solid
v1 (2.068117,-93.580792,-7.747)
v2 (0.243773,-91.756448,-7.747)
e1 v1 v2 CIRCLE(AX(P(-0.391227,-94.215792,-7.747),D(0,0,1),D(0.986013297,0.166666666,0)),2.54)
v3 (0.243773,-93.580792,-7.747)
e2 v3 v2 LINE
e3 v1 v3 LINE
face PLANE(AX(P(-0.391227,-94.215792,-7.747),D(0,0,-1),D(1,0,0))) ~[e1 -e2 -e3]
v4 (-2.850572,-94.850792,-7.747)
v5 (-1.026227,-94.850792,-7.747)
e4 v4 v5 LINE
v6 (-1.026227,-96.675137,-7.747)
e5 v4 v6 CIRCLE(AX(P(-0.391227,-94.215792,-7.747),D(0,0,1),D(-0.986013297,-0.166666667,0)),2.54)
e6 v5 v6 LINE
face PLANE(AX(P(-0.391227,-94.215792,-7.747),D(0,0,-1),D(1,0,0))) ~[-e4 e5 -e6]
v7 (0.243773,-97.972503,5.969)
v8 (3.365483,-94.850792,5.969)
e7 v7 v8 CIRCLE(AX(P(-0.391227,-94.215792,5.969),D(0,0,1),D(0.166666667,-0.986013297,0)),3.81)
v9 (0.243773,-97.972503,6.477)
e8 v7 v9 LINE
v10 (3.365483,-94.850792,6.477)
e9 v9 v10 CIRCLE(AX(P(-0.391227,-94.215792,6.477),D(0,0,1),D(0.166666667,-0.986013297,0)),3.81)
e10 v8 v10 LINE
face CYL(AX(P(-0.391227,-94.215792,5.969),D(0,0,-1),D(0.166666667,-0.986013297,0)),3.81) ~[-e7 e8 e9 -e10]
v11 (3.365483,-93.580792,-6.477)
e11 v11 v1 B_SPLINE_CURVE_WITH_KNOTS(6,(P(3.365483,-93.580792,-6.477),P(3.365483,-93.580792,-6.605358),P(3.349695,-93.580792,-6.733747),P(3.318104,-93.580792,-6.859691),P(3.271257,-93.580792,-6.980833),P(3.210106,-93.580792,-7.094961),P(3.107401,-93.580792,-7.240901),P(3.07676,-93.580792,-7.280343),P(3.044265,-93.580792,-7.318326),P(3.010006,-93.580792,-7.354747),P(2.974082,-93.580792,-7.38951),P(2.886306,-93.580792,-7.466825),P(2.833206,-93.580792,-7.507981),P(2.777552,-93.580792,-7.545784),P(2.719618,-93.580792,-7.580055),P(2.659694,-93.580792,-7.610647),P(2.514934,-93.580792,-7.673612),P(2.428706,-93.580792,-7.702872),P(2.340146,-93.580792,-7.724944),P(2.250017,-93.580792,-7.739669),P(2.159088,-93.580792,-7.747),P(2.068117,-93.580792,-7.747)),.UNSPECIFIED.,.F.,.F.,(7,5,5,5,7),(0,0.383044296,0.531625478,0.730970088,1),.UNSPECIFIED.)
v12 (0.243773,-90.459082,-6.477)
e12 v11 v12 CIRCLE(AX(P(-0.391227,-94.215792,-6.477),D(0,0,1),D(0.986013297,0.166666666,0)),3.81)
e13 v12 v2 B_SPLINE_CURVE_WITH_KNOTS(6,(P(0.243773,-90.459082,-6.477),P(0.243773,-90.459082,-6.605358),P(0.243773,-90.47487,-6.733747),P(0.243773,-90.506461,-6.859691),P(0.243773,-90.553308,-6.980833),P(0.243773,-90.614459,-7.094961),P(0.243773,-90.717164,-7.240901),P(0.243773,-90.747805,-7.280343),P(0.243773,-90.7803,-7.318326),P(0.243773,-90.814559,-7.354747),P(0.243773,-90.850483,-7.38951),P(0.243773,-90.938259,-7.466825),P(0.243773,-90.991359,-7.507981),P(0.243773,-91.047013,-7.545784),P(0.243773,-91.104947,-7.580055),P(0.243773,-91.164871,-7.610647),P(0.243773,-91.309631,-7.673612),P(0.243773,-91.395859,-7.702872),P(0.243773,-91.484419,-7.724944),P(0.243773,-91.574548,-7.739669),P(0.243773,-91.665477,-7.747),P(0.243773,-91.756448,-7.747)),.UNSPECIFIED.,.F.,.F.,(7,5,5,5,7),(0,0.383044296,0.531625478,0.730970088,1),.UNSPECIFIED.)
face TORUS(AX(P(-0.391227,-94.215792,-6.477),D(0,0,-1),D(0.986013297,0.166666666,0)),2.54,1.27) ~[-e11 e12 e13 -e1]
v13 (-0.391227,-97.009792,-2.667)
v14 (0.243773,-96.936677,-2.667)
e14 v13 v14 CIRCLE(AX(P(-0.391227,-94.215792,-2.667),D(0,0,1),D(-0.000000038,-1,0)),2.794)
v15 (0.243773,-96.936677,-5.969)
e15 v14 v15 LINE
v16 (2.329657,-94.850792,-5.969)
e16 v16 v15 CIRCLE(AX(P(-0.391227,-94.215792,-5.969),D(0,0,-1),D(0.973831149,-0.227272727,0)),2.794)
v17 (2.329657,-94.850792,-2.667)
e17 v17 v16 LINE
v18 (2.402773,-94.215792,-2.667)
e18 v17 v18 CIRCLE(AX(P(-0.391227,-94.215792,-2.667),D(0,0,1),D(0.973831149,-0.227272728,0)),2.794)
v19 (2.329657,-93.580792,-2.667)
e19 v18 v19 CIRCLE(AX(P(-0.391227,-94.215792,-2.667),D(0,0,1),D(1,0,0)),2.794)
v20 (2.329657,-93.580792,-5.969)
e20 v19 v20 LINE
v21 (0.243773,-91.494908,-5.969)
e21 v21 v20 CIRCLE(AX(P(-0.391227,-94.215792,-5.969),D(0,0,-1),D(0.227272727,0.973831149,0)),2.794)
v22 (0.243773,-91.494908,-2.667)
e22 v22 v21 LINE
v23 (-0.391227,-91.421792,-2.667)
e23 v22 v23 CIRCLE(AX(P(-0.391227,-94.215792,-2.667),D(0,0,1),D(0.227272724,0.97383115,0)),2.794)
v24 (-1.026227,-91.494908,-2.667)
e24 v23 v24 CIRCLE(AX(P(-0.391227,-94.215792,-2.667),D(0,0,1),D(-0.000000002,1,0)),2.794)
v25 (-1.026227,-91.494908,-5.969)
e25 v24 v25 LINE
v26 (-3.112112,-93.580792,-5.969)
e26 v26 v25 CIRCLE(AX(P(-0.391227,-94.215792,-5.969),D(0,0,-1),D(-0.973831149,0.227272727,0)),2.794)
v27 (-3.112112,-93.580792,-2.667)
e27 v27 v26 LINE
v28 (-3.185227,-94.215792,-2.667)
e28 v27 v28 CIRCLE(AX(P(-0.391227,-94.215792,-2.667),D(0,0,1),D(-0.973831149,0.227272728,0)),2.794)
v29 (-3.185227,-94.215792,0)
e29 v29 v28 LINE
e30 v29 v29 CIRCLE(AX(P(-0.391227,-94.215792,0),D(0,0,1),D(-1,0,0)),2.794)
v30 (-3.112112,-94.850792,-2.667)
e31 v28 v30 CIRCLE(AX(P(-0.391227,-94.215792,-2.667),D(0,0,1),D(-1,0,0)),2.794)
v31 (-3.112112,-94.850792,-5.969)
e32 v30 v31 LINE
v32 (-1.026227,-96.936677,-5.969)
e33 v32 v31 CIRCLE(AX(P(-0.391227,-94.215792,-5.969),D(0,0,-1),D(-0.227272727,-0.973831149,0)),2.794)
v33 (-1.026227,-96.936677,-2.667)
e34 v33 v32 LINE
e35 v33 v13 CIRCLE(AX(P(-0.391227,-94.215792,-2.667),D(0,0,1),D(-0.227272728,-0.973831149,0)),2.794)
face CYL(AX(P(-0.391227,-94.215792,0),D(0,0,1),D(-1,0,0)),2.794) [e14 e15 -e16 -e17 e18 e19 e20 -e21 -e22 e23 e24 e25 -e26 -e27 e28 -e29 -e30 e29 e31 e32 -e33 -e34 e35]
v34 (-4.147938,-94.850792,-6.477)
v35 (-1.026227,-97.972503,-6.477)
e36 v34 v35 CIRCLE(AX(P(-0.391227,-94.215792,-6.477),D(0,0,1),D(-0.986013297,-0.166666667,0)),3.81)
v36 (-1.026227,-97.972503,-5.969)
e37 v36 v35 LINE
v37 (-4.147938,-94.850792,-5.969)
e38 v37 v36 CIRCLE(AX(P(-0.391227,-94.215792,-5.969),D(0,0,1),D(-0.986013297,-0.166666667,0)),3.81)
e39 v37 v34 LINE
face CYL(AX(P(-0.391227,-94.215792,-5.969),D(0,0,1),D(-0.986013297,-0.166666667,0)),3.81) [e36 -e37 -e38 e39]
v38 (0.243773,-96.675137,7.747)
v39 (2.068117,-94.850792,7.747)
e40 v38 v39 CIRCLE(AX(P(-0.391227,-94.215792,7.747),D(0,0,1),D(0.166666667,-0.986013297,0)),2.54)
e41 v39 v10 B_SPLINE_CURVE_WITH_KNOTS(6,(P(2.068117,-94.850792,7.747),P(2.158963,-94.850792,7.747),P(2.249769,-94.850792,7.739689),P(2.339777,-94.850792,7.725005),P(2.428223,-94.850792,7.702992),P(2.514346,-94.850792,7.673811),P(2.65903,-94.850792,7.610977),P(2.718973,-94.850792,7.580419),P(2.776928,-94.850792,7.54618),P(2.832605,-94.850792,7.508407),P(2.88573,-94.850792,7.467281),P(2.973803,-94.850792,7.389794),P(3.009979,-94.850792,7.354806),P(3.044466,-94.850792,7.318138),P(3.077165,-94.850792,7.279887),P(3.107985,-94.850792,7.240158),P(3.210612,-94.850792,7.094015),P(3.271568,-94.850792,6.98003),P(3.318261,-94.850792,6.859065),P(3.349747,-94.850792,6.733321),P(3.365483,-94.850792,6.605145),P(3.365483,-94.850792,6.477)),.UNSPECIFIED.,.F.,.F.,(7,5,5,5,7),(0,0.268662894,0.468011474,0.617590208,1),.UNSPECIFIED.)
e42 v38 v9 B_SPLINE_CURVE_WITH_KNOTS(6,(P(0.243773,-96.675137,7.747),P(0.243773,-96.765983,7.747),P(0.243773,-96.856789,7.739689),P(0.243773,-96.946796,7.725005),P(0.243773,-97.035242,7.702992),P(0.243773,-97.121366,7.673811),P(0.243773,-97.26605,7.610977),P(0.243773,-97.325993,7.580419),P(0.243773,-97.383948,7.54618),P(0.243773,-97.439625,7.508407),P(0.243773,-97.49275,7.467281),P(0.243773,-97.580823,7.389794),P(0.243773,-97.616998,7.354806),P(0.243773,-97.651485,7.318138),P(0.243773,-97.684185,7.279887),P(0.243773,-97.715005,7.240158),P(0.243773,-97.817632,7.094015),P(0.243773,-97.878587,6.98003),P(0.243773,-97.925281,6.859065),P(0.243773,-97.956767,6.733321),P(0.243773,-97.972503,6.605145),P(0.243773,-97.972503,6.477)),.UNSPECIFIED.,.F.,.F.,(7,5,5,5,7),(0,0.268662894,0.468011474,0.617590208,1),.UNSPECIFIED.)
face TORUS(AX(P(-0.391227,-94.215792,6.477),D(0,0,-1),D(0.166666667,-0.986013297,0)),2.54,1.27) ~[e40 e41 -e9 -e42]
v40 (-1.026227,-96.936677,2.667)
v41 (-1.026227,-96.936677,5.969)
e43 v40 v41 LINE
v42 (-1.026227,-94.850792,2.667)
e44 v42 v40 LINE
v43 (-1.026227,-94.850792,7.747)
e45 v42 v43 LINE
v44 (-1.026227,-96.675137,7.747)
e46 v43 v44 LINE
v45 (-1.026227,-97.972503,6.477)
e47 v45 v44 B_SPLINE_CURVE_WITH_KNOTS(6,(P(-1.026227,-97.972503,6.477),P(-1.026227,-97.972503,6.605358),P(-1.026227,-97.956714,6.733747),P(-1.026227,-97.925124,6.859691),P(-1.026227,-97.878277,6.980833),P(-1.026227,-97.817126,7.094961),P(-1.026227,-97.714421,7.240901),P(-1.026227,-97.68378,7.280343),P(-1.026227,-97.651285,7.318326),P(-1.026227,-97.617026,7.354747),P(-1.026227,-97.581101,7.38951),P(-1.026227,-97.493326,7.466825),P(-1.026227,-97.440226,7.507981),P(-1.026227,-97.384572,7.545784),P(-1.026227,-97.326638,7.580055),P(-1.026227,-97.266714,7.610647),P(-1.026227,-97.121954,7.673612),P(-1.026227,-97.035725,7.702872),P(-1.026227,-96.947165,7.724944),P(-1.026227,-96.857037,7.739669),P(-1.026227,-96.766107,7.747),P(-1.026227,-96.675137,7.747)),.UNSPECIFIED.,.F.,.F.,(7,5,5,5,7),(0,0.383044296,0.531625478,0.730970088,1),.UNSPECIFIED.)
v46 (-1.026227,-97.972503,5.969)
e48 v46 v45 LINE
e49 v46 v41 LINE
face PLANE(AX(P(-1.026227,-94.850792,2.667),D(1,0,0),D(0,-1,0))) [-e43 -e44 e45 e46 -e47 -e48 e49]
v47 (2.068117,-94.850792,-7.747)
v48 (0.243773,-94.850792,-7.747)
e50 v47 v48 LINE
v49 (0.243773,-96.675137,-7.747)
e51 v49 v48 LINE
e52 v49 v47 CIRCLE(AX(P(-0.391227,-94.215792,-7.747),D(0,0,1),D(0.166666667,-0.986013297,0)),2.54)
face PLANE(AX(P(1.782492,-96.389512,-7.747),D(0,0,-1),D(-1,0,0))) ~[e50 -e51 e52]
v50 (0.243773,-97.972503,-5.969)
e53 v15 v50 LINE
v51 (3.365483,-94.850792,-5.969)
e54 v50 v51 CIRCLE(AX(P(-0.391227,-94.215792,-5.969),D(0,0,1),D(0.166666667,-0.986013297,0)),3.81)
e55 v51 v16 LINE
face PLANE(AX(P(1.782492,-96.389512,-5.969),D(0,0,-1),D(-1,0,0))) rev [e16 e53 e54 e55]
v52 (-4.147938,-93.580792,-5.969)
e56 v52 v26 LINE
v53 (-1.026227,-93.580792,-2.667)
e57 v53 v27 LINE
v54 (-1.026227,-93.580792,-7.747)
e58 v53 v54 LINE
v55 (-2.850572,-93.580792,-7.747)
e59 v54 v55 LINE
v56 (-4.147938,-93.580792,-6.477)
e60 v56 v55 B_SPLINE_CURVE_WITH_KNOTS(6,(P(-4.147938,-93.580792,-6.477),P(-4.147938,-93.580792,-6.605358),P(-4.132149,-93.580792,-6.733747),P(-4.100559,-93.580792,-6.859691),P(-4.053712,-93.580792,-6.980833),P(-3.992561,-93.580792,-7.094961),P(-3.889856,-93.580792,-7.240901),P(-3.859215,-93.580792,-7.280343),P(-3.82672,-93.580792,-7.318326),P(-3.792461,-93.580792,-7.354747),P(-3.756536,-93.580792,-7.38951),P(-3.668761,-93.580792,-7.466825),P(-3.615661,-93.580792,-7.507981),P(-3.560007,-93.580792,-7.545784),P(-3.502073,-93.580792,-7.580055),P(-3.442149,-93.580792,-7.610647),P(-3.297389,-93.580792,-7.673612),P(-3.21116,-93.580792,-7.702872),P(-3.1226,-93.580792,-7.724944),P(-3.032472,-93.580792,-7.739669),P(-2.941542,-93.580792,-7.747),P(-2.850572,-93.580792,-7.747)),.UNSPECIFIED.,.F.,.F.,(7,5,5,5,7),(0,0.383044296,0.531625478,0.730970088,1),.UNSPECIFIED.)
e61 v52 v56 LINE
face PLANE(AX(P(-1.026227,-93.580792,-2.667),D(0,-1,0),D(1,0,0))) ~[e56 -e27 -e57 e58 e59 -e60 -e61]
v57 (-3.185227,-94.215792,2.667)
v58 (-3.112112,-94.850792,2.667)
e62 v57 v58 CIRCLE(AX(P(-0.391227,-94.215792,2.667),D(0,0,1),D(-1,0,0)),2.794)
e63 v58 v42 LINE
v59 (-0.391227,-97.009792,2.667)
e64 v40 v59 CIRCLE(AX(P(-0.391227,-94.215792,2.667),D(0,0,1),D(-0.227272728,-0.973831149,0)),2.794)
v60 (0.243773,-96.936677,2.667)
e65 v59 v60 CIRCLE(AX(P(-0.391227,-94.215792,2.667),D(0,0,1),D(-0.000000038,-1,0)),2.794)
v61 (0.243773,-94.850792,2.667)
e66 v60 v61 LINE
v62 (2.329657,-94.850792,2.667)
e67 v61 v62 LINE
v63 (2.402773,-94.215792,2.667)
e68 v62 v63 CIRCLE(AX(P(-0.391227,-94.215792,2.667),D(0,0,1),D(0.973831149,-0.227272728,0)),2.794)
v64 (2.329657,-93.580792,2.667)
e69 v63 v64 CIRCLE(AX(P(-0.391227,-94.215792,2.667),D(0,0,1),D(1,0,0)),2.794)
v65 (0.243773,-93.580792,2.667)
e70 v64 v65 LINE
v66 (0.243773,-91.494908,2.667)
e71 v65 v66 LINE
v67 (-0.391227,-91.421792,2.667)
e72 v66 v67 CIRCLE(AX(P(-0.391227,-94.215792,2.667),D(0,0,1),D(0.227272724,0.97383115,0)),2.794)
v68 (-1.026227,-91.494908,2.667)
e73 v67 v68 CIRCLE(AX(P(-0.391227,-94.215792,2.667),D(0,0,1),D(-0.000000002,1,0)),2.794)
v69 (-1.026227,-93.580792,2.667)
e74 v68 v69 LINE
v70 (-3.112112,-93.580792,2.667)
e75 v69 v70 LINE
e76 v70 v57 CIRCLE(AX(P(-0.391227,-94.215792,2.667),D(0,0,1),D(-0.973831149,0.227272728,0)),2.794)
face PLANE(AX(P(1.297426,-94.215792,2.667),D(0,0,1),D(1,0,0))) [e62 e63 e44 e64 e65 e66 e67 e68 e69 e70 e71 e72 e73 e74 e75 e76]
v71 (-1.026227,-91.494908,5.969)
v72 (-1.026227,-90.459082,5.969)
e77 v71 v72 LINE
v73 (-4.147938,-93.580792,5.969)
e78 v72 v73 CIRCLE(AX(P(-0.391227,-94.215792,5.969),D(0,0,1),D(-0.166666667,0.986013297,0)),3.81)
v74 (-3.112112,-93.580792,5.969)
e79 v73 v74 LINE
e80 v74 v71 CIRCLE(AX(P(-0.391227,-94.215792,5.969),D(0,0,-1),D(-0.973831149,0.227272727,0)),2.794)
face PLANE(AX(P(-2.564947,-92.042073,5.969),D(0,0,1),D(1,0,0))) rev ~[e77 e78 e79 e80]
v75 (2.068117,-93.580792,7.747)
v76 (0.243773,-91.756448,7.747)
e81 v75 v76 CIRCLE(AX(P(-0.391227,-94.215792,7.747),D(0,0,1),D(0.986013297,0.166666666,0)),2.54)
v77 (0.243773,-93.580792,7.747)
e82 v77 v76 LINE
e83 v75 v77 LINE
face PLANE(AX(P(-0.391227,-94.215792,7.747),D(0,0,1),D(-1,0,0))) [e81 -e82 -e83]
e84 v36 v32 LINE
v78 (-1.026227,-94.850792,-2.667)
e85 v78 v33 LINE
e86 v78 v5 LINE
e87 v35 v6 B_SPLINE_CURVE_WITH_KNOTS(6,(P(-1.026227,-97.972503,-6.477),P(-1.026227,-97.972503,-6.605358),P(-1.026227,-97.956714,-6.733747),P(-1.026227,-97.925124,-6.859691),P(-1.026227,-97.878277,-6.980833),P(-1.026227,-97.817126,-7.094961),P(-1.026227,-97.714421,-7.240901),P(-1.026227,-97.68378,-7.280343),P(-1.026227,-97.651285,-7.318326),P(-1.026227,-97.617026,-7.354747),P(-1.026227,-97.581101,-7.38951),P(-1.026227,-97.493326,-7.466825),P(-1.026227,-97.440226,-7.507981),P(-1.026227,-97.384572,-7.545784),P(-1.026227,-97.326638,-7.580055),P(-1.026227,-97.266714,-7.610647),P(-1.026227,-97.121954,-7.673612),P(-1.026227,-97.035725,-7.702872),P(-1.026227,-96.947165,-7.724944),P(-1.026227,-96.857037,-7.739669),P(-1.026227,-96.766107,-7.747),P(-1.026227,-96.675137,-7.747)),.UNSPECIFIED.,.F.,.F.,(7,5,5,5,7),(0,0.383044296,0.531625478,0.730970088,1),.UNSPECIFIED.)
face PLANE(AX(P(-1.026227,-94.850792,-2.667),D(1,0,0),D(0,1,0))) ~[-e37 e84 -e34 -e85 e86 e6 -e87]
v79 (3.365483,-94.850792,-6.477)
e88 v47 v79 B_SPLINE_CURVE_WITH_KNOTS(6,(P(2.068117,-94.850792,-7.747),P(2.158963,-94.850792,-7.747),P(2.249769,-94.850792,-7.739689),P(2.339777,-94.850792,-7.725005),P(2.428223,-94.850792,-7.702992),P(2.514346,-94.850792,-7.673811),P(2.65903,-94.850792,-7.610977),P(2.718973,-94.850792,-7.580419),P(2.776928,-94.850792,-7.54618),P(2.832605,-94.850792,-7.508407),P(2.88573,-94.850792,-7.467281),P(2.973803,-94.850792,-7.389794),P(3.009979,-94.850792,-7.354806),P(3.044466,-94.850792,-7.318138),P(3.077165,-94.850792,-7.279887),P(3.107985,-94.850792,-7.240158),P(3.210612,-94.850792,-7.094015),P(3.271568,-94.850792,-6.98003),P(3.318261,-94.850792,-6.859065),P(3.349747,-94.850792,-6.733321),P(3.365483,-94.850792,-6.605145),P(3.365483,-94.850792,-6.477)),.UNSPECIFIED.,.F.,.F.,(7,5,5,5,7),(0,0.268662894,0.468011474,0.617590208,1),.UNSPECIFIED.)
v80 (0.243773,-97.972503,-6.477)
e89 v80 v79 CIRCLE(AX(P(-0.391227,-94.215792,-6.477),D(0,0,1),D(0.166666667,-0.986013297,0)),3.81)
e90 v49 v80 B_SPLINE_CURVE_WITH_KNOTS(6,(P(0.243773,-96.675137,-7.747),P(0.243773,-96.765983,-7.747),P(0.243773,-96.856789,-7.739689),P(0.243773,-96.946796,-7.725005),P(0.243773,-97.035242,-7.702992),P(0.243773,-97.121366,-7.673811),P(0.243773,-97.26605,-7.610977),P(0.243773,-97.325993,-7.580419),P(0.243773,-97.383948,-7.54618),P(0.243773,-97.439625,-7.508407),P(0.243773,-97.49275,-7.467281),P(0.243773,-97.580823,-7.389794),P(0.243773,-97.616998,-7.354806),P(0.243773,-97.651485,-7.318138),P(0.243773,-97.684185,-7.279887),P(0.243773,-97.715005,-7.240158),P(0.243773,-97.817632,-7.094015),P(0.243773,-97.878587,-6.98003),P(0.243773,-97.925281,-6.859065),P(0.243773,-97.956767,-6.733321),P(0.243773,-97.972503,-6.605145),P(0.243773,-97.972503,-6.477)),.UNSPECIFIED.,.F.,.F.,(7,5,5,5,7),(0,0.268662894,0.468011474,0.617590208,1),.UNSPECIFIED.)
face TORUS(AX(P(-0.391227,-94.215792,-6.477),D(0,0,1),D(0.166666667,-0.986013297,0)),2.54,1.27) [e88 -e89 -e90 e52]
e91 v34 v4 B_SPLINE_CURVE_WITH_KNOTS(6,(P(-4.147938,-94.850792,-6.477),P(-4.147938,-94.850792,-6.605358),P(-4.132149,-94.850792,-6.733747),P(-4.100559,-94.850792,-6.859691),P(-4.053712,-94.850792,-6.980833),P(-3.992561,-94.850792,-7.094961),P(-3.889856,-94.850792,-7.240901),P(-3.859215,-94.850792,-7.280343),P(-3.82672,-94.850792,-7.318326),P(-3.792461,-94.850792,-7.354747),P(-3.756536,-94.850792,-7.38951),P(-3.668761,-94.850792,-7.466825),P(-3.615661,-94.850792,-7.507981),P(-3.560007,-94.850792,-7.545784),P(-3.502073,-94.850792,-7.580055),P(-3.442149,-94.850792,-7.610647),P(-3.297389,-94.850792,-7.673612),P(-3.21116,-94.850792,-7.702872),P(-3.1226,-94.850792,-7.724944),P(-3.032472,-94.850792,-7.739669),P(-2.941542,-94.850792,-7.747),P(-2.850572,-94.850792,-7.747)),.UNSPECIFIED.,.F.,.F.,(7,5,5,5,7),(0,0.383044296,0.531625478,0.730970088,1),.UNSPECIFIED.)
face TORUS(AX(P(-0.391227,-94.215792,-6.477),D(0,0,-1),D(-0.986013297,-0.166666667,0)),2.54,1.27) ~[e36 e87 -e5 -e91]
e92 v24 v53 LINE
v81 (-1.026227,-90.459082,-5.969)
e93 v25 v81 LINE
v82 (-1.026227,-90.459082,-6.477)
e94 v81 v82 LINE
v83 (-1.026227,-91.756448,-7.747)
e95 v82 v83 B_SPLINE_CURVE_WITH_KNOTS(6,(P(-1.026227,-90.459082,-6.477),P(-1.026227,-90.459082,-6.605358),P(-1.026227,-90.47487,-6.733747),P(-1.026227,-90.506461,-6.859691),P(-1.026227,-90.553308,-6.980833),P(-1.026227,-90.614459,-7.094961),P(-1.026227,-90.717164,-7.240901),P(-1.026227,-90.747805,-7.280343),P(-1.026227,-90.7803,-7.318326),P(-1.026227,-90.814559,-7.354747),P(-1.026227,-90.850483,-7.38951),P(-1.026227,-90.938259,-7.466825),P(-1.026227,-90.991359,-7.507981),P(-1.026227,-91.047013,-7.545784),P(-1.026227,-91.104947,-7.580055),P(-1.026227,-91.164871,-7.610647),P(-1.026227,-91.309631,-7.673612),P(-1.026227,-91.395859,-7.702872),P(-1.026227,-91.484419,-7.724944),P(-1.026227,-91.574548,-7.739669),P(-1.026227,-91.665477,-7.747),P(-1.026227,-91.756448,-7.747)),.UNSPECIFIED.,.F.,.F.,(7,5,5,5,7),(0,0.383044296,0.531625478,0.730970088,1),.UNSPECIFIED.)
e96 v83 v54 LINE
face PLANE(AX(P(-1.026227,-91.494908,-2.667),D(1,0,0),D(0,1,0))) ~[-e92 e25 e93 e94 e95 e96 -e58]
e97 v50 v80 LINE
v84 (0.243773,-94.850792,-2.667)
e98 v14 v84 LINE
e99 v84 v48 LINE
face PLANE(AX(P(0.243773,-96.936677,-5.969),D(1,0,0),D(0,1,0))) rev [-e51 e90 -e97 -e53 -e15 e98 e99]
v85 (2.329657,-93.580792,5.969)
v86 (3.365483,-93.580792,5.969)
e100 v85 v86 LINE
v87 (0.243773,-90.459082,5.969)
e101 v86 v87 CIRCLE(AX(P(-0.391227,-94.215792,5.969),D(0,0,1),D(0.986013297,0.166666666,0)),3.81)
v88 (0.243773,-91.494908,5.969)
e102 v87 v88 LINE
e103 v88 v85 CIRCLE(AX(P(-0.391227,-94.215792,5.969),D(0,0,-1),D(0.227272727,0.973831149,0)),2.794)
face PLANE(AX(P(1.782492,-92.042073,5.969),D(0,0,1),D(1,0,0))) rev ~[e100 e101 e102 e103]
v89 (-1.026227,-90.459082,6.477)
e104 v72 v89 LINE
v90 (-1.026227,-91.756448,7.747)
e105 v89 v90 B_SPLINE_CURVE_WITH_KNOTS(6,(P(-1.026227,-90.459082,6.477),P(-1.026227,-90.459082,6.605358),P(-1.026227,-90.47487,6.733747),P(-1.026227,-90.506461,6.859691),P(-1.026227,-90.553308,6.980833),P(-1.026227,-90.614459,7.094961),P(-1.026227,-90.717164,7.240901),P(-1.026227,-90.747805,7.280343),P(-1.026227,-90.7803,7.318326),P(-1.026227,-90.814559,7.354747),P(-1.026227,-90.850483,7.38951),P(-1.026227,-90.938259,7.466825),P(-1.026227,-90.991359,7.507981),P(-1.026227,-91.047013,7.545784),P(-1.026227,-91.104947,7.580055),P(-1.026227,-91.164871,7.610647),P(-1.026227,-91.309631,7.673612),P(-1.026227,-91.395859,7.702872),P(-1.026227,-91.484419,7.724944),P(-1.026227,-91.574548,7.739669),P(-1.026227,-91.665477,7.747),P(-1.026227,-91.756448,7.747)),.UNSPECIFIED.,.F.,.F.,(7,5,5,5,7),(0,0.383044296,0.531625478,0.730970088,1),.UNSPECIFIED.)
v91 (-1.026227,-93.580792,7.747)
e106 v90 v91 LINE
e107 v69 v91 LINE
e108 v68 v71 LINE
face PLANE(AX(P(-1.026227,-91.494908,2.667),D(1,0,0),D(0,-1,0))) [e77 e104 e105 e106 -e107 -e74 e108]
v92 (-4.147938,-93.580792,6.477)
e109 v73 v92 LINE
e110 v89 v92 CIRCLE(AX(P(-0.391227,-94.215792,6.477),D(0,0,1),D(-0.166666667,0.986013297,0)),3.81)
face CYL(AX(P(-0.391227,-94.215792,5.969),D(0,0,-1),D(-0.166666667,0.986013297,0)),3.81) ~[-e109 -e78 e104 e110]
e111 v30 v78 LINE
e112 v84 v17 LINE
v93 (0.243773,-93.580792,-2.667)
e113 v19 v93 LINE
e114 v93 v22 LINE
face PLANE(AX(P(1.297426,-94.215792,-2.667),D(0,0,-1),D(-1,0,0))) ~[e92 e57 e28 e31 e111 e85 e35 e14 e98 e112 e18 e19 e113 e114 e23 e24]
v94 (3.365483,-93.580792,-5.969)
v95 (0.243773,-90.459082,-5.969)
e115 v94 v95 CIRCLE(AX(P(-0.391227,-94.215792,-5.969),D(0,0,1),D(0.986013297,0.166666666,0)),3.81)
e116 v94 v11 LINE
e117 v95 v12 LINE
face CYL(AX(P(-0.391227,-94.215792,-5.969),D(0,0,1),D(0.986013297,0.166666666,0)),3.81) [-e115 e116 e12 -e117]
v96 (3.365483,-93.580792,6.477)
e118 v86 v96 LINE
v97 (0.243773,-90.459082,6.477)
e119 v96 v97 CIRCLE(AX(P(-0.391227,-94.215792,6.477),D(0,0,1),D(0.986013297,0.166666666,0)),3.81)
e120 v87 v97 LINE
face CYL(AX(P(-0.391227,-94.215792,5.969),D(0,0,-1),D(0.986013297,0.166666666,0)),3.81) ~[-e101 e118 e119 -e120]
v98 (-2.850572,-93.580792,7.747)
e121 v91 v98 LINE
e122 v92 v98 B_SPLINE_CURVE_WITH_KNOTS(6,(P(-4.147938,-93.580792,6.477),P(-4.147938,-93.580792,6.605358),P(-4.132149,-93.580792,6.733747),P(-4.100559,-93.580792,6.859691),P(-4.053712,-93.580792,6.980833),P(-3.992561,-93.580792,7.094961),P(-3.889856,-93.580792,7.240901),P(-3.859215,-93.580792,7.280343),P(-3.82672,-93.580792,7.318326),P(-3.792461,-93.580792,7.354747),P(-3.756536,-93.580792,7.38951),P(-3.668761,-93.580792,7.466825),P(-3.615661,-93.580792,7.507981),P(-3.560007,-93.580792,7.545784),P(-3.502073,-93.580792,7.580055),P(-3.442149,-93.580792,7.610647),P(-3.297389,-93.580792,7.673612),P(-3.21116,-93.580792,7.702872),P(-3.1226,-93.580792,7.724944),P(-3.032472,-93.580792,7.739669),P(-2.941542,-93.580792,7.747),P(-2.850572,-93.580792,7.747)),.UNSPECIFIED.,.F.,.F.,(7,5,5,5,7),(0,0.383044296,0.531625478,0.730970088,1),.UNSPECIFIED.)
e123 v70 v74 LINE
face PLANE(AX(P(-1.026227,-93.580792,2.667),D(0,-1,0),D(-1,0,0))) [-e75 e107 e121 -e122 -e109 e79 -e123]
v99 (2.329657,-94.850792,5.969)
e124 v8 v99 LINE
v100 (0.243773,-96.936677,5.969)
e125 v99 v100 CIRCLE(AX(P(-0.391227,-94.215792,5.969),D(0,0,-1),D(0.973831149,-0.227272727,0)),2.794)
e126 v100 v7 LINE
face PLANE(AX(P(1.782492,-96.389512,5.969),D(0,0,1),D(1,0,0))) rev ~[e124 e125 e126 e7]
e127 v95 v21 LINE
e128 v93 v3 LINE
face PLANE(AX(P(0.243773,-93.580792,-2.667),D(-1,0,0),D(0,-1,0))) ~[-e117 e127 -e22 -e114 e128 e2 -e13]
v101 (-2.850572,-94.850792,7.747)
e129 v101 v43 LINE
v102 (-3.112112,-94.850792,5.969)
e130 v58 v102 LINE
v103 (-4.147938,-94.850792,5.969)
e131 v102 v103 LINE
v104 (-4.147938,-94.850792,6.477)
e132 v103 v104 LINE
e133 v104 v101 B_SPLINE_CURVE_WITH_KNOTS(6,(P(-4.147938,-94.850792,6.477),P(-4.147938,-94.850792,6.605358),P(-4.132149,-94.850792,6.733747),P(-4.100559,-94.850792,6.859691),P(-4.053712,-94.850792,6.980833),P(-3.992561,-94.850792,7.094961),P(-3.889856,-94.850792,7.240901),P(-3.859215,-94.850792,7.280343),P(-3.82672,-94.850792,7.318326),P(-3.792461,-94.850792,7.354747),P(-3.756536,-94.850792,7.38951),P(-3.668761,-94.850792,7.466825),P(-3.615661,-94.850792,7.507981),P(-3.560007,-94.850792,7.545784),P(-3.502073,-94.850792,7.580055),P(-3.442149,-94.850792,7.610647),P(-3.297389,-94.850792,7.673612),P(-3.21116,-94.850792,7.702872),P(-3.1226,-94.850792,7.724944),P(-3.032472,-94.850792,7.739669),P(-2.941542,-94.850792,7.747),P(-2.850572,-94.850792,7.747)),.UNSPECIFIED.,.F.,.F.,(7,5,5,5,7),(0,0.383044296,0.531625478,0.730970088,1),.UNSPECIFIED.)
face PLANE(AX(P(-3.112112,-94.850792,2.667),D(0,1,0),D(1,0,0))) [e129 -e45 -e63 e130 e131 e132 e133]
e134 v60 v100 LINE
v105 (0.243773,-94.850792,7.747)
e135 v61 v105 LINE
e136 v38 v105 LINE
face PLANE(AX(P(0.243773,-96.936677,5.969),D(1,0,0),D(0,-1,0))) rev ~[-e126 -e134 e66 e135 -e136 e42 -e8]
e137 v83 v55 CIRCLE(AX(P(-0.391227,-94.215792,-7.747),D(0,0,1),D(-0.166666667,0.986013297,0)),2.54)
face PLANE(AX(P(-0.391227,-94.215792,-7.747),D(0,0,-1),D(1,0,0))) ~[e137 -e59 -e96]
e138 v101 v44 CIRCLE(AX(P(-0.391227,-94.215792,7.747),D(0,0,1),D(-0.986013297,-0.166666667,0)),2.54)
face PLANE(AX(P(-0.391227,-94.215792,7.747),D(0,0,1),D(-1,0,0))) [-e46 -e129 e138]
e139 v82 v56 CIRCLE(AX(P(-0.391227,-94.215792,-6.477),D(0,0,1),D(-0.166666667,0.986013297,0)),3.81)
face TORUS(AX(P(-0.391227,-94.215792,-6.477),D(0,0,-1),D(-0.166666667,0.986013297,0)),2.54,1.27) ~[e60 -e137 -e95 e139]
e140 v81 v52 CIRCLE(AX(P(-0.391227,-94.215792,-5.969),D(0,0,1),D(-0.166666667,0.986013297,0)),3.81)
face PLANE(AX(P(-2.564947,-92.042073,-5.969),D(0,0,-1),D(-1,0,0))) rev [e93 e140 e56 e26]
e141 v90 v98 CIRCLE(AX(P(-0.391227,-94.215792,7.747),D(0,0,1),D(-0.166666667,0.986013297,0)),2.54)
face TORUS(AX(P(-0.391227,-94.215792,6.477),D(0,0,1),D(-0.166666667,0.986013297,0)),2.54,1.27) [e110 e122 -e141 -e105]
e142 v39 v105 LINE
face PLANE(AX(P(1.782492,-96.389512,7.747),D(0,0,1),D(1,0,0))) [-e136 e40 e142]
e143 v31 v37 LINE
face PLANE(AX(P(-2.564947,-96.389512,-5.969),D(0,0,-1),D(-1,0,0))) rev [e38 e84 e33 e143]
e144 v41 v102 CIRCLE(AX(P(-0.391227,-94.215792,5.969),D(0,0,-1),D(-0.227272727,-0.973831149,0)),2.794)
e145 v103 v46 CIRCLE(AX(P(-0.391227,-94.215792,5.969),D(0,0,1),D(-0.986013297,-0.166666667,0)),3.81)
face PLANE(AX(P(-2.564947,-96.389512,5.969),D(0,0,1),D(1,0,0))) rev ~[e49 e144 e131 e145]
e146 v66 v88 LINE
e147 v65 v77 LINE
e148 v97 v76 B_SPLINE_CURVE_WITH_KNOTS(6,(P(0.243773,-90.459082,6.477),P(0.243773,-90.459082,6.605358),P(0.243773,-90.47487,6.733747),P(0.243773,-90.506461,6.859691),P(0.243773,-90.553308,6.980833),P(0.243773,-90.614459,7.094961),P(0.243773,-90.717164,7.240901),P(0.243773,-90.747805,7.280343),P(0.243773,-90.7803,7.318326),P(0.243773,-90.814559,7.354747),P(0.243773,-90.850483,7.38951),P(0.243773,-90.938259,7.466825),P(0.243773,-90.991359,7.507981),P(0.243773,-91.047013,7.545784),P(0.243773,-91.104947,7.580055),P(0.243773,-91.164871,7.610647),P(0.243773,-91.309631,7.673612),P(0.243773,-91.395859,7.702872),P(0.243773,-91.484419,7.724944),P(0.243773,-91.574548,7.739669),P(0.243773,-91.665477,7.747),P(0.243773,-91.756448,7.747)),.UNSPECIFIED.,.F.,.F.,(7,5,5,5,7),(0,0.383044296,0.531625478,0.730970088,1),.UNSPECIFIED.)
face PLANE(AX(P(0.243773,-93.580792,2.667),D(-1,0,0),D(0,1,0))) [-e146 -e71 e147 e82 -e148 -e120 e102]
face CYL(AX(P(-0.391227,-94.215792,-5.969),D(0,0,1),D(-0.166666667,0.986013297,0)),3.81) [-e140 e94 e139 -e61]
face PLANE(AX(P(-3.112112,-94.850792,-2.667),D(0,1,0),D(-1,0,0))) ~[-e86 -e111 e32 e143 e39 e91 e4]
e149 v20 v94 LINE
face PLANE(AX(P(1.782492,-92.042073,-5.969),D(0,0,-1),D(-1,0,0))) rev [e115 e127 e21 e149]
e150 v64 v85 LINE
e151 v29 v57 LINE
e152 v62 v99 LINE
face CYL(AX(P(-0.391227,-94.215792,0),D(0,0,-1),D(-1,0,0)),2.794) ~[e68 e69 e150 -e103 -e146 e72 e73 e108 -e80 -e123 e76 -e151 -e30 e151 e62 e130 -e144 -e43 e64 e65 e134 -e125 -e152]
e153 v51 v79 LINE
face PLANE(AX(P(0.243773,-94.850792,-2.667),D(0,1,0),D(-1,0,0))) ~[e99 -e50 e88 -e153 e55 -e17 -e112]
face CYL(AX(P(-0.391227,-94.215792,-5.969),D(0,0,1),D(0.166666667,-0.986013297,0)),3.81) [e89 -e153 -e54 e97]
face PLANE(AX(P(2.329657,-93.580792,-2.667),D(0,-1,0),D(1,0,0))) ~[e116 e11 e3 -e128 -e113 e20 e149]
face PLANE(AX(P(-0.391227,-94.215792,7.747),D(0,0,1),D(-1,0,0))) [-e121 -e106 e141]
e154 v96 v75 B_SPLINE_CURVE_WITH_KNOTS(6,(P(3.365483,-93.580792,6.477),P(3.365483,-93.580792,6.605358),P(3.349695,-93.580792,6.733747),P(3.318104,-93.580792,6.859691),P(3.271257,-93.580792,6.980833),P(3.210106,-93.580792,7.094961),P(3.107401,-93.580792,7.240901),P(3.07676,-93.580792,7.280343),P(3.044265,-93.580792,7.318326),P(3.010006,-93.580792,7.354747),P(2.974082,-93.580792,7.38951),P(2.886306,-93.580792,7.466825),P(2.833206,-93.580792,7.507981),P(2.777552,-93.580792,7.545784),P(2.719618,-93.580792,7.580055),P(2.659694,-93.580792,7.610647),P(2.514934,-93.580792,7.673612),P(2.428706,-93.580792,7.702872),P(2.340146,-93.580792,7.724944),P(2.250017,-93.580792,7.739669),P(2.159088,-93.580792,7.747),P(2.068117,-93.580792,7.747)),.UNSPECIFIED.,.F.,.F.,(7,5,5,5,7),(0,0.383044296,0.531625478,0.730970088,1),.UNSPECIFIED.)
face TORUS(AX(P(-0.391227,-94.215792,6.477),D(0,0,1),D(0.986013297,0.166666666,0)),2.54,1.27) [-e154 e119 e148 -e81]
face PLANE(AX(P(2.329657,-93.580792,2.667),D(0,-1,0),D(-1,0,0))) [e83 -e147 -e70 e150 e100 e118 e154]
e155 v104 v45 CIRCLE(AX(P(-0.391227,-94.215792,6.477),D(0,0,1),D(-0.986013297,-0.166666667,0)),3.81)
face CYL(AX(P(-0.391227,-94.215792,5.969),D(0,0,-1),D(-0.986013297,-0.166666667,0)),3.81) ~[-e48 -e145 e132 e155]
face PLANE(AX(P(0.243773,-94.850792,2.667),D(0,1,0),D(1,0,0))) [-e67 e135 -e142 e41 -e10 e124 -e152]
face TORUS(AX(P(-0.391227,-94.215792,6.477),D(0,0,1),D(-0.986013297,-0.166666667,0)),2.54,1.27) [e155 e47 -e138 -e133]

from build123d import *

# Parameters (mm, degrees)
SKETCH1_R           = 2.794
BOSS_EXTRUDE1_DEPTH = 7.747
CUT_EXTRUDE1_START  = -5.08
SKETCH2_W           = 1.27
SKETCH2_H           = 1.27
CUT_EXTRUDE1_DEPTH  = 5.08
BOSS_EXTRUDE2_START = -1.778
BOSS_EXTRUDE2_DEPTH = 1.778
FILLET1_R           = 1.27


with BuildPart() as part:
    # Sketch1 → Boss-Extrude1 (new body)
    with BuildSketch(Plane.XY):
        with Locations(Location((-0.391227277, -94.215792273, 0), (0, 0, 180))):
            Circle(SKETCH1_R)
    extrude(amount=BOSS_EXTRUDE1_DEPTH)

    # Sketch2 → Cut-Extrude1 (cut)
    with BuildSketch(Plane.XY.offset(7.747).offset(CUT_EXTRUDE1_START)):
        with BuildLine():
            ThreePointArc((2.402772723, -94.215792273), (2.384433594, -93.896194512), (2.329656954, -93.580792273))
            Line((2.329656954, -93.580792273), (0.243772723, -93.580792273))
            Line((0.243772723, -93.580792273), (0.243772723, -94.850792273))
            Line((0.243772723, -94.850792273), (2.329656954, -94.850792273))
            ThreePointArc((2.329656954, -94.850792273), (2.384433594, -94.535390034), (2.402772723, -94.215792273))
        make_face()
        with BuildLine():
            Line((-1.026227277, -94.850792273), (-1.026227277, -93.580792273))
            Line((-1.026227277, -93.580792273), (-3.112111508, -93.580792273))
            ThreePointArc((-3.112111508, -93.580792273), (-3.166888148, -93.896194512), (-3.185227277, -94.215792273))
            ThreePointArc((-3.185227277, -94.215792273), (-3.166888148, -94.535390034), (-3.112111508, -94.850792273))
            Line((-3.112111508, -94.850792273), (-1.026227277, -94.850792273))
        make_face()
        with BuildLine():
            Line((-1.026227277, -93.580792273), (0.243772723, -93.580792273))
            Line((0.243772723, -93.580792273), (0.243772723, -91.494908041))
            ThreePointArc((0.243772723, -91.494908041), (-0.071629516, -91.440131402), (-0.391227277, -91.421792273))
            ThreePointArc((-0.391227277, -91.421792273), (-0.710825038, -91.440131402), (-1.026227277, -91.494908041))
            Line((-1.026227277, -91.494908041), (-1.026227277, -93.580792273))
        make_face()
        with BuildLine():
            Line((0.243772723, -96.936676504), (0.243772723, -94.850792273))
            Line((0.243772723, -94.850792273), (-1.026227277, -94.850792273))
            Line((-1.026227277, -94.850792273), (-1.026227277, -96.936676504))
            ThreePointArc((-1.026227277, -96.936676504), (-0.71082509, -96.991453138), (-0.391227382, -97.009792273))
            ThreePointArc((-0.391227382, -97.009792273), (-0.071629568, -96.99145315), (0.243772723, -96.936676504))
        make_face()
        with Locations((-0.391227277, -94.215792273)):
            Rectangle(SKETCH2_W, SKETCH2_H)
    extrude(amount=CUT_EXTRUDE1_DEPTH, mode=Mode.SUBTRACT)

    # Sketch3 → Boss-Extrude2 (add)
    with BuildSketch(Plane.XY.offset(7.747).offset(BOSS_EXTRUDE2_START)):
        with BuildLine():
            Line((0.243772723, -96.936676504), (0.243772723, -97.972502935))
            ThreePointArc((0.243772723, -97.972502935), (2.302849559, -96.909869109), (3.365483385, -94.850792273))
            Line((3.365483385, -94.850792273), (2.329656954, -94.850792273))
            ThreePointArc((2.329656954, -94.850792273), (1.58442907, -96.191448619), (0.243772723, -96.936676504))
        make_face()
        with BuildLine():
            Line((-1.026227277, -97.972502935), (-1.026227277, -96.936676504))
            ThreePointArc((-1.026227277, -96.936676504), (-2.366883624, -96.191448619), (-3.112111508, -94.850792273))
            Line((-3.112111508, -94.850792273), (-4.147937939, -94.850792273))
            ThreePointArc((-4.147937939, -94.850792273), (-3.085304113, -96.909869109), (-1.026227277, -97.972502935))
        make_face()
        with BuildLine():
            Line((-4.147937939, -93.580792273), (-3.112111508, -93.580792273))
            ThreePointArc((-3.112111508, -93.580792273), (-2.366883624, -92.240135926), (-1.026227277, -91.494908041))
            Line((-1.026227277, -91.494908041), (-1.026227277, -90.45908161))
            ThreePointArc((-1.026227277, -90.45908161), (-3.085304113, -91.521715436), (-4.147937939, -93.580792273))
        make_face()
        with BuildLine():
            Line((0.243772723, -90.45908161), (0.243772723, -91.494908041))
            ThreePointArc((0.243772723, -91.494908041), (1.58442907, -92.240135926), (2.329656954, -93.580792273))
            Line((2.329656954, -93.580792273), (3.365483385, -93.580792273))
            ThreePointArc((3.365483385, -93.580792273), (2.302849559, -91.521715436), (0.243772723, -90.45908161))
        make_face()
    extrude(amount=BOSS_EXTRUDE2_DEPTH)

    # Fillet1
    fillet1_edges = [part.edges().sort_by_distance(p)[0] for p in [
        (2.302849559, -96.909869109, 7.747),
        (-3.085304113, -96.909869109, 7.747),
        (-3.085304113, -91.521715436, 7.747),
        (2.302849559, -91.521715436, 7.747),
    ]]
    fillet(fillet1_edges, radius=FILLET1_R)

    # Mirror2: part across plane


with BuildPart() as part_1:
    add(part.part)
    add(part.part.mirror(Plane(origin=(-0.391227277, -94.215792273, 0), x_dir=(1, 0, 0), z_dir=(0, 0, 1))))


solid = part_1.part
